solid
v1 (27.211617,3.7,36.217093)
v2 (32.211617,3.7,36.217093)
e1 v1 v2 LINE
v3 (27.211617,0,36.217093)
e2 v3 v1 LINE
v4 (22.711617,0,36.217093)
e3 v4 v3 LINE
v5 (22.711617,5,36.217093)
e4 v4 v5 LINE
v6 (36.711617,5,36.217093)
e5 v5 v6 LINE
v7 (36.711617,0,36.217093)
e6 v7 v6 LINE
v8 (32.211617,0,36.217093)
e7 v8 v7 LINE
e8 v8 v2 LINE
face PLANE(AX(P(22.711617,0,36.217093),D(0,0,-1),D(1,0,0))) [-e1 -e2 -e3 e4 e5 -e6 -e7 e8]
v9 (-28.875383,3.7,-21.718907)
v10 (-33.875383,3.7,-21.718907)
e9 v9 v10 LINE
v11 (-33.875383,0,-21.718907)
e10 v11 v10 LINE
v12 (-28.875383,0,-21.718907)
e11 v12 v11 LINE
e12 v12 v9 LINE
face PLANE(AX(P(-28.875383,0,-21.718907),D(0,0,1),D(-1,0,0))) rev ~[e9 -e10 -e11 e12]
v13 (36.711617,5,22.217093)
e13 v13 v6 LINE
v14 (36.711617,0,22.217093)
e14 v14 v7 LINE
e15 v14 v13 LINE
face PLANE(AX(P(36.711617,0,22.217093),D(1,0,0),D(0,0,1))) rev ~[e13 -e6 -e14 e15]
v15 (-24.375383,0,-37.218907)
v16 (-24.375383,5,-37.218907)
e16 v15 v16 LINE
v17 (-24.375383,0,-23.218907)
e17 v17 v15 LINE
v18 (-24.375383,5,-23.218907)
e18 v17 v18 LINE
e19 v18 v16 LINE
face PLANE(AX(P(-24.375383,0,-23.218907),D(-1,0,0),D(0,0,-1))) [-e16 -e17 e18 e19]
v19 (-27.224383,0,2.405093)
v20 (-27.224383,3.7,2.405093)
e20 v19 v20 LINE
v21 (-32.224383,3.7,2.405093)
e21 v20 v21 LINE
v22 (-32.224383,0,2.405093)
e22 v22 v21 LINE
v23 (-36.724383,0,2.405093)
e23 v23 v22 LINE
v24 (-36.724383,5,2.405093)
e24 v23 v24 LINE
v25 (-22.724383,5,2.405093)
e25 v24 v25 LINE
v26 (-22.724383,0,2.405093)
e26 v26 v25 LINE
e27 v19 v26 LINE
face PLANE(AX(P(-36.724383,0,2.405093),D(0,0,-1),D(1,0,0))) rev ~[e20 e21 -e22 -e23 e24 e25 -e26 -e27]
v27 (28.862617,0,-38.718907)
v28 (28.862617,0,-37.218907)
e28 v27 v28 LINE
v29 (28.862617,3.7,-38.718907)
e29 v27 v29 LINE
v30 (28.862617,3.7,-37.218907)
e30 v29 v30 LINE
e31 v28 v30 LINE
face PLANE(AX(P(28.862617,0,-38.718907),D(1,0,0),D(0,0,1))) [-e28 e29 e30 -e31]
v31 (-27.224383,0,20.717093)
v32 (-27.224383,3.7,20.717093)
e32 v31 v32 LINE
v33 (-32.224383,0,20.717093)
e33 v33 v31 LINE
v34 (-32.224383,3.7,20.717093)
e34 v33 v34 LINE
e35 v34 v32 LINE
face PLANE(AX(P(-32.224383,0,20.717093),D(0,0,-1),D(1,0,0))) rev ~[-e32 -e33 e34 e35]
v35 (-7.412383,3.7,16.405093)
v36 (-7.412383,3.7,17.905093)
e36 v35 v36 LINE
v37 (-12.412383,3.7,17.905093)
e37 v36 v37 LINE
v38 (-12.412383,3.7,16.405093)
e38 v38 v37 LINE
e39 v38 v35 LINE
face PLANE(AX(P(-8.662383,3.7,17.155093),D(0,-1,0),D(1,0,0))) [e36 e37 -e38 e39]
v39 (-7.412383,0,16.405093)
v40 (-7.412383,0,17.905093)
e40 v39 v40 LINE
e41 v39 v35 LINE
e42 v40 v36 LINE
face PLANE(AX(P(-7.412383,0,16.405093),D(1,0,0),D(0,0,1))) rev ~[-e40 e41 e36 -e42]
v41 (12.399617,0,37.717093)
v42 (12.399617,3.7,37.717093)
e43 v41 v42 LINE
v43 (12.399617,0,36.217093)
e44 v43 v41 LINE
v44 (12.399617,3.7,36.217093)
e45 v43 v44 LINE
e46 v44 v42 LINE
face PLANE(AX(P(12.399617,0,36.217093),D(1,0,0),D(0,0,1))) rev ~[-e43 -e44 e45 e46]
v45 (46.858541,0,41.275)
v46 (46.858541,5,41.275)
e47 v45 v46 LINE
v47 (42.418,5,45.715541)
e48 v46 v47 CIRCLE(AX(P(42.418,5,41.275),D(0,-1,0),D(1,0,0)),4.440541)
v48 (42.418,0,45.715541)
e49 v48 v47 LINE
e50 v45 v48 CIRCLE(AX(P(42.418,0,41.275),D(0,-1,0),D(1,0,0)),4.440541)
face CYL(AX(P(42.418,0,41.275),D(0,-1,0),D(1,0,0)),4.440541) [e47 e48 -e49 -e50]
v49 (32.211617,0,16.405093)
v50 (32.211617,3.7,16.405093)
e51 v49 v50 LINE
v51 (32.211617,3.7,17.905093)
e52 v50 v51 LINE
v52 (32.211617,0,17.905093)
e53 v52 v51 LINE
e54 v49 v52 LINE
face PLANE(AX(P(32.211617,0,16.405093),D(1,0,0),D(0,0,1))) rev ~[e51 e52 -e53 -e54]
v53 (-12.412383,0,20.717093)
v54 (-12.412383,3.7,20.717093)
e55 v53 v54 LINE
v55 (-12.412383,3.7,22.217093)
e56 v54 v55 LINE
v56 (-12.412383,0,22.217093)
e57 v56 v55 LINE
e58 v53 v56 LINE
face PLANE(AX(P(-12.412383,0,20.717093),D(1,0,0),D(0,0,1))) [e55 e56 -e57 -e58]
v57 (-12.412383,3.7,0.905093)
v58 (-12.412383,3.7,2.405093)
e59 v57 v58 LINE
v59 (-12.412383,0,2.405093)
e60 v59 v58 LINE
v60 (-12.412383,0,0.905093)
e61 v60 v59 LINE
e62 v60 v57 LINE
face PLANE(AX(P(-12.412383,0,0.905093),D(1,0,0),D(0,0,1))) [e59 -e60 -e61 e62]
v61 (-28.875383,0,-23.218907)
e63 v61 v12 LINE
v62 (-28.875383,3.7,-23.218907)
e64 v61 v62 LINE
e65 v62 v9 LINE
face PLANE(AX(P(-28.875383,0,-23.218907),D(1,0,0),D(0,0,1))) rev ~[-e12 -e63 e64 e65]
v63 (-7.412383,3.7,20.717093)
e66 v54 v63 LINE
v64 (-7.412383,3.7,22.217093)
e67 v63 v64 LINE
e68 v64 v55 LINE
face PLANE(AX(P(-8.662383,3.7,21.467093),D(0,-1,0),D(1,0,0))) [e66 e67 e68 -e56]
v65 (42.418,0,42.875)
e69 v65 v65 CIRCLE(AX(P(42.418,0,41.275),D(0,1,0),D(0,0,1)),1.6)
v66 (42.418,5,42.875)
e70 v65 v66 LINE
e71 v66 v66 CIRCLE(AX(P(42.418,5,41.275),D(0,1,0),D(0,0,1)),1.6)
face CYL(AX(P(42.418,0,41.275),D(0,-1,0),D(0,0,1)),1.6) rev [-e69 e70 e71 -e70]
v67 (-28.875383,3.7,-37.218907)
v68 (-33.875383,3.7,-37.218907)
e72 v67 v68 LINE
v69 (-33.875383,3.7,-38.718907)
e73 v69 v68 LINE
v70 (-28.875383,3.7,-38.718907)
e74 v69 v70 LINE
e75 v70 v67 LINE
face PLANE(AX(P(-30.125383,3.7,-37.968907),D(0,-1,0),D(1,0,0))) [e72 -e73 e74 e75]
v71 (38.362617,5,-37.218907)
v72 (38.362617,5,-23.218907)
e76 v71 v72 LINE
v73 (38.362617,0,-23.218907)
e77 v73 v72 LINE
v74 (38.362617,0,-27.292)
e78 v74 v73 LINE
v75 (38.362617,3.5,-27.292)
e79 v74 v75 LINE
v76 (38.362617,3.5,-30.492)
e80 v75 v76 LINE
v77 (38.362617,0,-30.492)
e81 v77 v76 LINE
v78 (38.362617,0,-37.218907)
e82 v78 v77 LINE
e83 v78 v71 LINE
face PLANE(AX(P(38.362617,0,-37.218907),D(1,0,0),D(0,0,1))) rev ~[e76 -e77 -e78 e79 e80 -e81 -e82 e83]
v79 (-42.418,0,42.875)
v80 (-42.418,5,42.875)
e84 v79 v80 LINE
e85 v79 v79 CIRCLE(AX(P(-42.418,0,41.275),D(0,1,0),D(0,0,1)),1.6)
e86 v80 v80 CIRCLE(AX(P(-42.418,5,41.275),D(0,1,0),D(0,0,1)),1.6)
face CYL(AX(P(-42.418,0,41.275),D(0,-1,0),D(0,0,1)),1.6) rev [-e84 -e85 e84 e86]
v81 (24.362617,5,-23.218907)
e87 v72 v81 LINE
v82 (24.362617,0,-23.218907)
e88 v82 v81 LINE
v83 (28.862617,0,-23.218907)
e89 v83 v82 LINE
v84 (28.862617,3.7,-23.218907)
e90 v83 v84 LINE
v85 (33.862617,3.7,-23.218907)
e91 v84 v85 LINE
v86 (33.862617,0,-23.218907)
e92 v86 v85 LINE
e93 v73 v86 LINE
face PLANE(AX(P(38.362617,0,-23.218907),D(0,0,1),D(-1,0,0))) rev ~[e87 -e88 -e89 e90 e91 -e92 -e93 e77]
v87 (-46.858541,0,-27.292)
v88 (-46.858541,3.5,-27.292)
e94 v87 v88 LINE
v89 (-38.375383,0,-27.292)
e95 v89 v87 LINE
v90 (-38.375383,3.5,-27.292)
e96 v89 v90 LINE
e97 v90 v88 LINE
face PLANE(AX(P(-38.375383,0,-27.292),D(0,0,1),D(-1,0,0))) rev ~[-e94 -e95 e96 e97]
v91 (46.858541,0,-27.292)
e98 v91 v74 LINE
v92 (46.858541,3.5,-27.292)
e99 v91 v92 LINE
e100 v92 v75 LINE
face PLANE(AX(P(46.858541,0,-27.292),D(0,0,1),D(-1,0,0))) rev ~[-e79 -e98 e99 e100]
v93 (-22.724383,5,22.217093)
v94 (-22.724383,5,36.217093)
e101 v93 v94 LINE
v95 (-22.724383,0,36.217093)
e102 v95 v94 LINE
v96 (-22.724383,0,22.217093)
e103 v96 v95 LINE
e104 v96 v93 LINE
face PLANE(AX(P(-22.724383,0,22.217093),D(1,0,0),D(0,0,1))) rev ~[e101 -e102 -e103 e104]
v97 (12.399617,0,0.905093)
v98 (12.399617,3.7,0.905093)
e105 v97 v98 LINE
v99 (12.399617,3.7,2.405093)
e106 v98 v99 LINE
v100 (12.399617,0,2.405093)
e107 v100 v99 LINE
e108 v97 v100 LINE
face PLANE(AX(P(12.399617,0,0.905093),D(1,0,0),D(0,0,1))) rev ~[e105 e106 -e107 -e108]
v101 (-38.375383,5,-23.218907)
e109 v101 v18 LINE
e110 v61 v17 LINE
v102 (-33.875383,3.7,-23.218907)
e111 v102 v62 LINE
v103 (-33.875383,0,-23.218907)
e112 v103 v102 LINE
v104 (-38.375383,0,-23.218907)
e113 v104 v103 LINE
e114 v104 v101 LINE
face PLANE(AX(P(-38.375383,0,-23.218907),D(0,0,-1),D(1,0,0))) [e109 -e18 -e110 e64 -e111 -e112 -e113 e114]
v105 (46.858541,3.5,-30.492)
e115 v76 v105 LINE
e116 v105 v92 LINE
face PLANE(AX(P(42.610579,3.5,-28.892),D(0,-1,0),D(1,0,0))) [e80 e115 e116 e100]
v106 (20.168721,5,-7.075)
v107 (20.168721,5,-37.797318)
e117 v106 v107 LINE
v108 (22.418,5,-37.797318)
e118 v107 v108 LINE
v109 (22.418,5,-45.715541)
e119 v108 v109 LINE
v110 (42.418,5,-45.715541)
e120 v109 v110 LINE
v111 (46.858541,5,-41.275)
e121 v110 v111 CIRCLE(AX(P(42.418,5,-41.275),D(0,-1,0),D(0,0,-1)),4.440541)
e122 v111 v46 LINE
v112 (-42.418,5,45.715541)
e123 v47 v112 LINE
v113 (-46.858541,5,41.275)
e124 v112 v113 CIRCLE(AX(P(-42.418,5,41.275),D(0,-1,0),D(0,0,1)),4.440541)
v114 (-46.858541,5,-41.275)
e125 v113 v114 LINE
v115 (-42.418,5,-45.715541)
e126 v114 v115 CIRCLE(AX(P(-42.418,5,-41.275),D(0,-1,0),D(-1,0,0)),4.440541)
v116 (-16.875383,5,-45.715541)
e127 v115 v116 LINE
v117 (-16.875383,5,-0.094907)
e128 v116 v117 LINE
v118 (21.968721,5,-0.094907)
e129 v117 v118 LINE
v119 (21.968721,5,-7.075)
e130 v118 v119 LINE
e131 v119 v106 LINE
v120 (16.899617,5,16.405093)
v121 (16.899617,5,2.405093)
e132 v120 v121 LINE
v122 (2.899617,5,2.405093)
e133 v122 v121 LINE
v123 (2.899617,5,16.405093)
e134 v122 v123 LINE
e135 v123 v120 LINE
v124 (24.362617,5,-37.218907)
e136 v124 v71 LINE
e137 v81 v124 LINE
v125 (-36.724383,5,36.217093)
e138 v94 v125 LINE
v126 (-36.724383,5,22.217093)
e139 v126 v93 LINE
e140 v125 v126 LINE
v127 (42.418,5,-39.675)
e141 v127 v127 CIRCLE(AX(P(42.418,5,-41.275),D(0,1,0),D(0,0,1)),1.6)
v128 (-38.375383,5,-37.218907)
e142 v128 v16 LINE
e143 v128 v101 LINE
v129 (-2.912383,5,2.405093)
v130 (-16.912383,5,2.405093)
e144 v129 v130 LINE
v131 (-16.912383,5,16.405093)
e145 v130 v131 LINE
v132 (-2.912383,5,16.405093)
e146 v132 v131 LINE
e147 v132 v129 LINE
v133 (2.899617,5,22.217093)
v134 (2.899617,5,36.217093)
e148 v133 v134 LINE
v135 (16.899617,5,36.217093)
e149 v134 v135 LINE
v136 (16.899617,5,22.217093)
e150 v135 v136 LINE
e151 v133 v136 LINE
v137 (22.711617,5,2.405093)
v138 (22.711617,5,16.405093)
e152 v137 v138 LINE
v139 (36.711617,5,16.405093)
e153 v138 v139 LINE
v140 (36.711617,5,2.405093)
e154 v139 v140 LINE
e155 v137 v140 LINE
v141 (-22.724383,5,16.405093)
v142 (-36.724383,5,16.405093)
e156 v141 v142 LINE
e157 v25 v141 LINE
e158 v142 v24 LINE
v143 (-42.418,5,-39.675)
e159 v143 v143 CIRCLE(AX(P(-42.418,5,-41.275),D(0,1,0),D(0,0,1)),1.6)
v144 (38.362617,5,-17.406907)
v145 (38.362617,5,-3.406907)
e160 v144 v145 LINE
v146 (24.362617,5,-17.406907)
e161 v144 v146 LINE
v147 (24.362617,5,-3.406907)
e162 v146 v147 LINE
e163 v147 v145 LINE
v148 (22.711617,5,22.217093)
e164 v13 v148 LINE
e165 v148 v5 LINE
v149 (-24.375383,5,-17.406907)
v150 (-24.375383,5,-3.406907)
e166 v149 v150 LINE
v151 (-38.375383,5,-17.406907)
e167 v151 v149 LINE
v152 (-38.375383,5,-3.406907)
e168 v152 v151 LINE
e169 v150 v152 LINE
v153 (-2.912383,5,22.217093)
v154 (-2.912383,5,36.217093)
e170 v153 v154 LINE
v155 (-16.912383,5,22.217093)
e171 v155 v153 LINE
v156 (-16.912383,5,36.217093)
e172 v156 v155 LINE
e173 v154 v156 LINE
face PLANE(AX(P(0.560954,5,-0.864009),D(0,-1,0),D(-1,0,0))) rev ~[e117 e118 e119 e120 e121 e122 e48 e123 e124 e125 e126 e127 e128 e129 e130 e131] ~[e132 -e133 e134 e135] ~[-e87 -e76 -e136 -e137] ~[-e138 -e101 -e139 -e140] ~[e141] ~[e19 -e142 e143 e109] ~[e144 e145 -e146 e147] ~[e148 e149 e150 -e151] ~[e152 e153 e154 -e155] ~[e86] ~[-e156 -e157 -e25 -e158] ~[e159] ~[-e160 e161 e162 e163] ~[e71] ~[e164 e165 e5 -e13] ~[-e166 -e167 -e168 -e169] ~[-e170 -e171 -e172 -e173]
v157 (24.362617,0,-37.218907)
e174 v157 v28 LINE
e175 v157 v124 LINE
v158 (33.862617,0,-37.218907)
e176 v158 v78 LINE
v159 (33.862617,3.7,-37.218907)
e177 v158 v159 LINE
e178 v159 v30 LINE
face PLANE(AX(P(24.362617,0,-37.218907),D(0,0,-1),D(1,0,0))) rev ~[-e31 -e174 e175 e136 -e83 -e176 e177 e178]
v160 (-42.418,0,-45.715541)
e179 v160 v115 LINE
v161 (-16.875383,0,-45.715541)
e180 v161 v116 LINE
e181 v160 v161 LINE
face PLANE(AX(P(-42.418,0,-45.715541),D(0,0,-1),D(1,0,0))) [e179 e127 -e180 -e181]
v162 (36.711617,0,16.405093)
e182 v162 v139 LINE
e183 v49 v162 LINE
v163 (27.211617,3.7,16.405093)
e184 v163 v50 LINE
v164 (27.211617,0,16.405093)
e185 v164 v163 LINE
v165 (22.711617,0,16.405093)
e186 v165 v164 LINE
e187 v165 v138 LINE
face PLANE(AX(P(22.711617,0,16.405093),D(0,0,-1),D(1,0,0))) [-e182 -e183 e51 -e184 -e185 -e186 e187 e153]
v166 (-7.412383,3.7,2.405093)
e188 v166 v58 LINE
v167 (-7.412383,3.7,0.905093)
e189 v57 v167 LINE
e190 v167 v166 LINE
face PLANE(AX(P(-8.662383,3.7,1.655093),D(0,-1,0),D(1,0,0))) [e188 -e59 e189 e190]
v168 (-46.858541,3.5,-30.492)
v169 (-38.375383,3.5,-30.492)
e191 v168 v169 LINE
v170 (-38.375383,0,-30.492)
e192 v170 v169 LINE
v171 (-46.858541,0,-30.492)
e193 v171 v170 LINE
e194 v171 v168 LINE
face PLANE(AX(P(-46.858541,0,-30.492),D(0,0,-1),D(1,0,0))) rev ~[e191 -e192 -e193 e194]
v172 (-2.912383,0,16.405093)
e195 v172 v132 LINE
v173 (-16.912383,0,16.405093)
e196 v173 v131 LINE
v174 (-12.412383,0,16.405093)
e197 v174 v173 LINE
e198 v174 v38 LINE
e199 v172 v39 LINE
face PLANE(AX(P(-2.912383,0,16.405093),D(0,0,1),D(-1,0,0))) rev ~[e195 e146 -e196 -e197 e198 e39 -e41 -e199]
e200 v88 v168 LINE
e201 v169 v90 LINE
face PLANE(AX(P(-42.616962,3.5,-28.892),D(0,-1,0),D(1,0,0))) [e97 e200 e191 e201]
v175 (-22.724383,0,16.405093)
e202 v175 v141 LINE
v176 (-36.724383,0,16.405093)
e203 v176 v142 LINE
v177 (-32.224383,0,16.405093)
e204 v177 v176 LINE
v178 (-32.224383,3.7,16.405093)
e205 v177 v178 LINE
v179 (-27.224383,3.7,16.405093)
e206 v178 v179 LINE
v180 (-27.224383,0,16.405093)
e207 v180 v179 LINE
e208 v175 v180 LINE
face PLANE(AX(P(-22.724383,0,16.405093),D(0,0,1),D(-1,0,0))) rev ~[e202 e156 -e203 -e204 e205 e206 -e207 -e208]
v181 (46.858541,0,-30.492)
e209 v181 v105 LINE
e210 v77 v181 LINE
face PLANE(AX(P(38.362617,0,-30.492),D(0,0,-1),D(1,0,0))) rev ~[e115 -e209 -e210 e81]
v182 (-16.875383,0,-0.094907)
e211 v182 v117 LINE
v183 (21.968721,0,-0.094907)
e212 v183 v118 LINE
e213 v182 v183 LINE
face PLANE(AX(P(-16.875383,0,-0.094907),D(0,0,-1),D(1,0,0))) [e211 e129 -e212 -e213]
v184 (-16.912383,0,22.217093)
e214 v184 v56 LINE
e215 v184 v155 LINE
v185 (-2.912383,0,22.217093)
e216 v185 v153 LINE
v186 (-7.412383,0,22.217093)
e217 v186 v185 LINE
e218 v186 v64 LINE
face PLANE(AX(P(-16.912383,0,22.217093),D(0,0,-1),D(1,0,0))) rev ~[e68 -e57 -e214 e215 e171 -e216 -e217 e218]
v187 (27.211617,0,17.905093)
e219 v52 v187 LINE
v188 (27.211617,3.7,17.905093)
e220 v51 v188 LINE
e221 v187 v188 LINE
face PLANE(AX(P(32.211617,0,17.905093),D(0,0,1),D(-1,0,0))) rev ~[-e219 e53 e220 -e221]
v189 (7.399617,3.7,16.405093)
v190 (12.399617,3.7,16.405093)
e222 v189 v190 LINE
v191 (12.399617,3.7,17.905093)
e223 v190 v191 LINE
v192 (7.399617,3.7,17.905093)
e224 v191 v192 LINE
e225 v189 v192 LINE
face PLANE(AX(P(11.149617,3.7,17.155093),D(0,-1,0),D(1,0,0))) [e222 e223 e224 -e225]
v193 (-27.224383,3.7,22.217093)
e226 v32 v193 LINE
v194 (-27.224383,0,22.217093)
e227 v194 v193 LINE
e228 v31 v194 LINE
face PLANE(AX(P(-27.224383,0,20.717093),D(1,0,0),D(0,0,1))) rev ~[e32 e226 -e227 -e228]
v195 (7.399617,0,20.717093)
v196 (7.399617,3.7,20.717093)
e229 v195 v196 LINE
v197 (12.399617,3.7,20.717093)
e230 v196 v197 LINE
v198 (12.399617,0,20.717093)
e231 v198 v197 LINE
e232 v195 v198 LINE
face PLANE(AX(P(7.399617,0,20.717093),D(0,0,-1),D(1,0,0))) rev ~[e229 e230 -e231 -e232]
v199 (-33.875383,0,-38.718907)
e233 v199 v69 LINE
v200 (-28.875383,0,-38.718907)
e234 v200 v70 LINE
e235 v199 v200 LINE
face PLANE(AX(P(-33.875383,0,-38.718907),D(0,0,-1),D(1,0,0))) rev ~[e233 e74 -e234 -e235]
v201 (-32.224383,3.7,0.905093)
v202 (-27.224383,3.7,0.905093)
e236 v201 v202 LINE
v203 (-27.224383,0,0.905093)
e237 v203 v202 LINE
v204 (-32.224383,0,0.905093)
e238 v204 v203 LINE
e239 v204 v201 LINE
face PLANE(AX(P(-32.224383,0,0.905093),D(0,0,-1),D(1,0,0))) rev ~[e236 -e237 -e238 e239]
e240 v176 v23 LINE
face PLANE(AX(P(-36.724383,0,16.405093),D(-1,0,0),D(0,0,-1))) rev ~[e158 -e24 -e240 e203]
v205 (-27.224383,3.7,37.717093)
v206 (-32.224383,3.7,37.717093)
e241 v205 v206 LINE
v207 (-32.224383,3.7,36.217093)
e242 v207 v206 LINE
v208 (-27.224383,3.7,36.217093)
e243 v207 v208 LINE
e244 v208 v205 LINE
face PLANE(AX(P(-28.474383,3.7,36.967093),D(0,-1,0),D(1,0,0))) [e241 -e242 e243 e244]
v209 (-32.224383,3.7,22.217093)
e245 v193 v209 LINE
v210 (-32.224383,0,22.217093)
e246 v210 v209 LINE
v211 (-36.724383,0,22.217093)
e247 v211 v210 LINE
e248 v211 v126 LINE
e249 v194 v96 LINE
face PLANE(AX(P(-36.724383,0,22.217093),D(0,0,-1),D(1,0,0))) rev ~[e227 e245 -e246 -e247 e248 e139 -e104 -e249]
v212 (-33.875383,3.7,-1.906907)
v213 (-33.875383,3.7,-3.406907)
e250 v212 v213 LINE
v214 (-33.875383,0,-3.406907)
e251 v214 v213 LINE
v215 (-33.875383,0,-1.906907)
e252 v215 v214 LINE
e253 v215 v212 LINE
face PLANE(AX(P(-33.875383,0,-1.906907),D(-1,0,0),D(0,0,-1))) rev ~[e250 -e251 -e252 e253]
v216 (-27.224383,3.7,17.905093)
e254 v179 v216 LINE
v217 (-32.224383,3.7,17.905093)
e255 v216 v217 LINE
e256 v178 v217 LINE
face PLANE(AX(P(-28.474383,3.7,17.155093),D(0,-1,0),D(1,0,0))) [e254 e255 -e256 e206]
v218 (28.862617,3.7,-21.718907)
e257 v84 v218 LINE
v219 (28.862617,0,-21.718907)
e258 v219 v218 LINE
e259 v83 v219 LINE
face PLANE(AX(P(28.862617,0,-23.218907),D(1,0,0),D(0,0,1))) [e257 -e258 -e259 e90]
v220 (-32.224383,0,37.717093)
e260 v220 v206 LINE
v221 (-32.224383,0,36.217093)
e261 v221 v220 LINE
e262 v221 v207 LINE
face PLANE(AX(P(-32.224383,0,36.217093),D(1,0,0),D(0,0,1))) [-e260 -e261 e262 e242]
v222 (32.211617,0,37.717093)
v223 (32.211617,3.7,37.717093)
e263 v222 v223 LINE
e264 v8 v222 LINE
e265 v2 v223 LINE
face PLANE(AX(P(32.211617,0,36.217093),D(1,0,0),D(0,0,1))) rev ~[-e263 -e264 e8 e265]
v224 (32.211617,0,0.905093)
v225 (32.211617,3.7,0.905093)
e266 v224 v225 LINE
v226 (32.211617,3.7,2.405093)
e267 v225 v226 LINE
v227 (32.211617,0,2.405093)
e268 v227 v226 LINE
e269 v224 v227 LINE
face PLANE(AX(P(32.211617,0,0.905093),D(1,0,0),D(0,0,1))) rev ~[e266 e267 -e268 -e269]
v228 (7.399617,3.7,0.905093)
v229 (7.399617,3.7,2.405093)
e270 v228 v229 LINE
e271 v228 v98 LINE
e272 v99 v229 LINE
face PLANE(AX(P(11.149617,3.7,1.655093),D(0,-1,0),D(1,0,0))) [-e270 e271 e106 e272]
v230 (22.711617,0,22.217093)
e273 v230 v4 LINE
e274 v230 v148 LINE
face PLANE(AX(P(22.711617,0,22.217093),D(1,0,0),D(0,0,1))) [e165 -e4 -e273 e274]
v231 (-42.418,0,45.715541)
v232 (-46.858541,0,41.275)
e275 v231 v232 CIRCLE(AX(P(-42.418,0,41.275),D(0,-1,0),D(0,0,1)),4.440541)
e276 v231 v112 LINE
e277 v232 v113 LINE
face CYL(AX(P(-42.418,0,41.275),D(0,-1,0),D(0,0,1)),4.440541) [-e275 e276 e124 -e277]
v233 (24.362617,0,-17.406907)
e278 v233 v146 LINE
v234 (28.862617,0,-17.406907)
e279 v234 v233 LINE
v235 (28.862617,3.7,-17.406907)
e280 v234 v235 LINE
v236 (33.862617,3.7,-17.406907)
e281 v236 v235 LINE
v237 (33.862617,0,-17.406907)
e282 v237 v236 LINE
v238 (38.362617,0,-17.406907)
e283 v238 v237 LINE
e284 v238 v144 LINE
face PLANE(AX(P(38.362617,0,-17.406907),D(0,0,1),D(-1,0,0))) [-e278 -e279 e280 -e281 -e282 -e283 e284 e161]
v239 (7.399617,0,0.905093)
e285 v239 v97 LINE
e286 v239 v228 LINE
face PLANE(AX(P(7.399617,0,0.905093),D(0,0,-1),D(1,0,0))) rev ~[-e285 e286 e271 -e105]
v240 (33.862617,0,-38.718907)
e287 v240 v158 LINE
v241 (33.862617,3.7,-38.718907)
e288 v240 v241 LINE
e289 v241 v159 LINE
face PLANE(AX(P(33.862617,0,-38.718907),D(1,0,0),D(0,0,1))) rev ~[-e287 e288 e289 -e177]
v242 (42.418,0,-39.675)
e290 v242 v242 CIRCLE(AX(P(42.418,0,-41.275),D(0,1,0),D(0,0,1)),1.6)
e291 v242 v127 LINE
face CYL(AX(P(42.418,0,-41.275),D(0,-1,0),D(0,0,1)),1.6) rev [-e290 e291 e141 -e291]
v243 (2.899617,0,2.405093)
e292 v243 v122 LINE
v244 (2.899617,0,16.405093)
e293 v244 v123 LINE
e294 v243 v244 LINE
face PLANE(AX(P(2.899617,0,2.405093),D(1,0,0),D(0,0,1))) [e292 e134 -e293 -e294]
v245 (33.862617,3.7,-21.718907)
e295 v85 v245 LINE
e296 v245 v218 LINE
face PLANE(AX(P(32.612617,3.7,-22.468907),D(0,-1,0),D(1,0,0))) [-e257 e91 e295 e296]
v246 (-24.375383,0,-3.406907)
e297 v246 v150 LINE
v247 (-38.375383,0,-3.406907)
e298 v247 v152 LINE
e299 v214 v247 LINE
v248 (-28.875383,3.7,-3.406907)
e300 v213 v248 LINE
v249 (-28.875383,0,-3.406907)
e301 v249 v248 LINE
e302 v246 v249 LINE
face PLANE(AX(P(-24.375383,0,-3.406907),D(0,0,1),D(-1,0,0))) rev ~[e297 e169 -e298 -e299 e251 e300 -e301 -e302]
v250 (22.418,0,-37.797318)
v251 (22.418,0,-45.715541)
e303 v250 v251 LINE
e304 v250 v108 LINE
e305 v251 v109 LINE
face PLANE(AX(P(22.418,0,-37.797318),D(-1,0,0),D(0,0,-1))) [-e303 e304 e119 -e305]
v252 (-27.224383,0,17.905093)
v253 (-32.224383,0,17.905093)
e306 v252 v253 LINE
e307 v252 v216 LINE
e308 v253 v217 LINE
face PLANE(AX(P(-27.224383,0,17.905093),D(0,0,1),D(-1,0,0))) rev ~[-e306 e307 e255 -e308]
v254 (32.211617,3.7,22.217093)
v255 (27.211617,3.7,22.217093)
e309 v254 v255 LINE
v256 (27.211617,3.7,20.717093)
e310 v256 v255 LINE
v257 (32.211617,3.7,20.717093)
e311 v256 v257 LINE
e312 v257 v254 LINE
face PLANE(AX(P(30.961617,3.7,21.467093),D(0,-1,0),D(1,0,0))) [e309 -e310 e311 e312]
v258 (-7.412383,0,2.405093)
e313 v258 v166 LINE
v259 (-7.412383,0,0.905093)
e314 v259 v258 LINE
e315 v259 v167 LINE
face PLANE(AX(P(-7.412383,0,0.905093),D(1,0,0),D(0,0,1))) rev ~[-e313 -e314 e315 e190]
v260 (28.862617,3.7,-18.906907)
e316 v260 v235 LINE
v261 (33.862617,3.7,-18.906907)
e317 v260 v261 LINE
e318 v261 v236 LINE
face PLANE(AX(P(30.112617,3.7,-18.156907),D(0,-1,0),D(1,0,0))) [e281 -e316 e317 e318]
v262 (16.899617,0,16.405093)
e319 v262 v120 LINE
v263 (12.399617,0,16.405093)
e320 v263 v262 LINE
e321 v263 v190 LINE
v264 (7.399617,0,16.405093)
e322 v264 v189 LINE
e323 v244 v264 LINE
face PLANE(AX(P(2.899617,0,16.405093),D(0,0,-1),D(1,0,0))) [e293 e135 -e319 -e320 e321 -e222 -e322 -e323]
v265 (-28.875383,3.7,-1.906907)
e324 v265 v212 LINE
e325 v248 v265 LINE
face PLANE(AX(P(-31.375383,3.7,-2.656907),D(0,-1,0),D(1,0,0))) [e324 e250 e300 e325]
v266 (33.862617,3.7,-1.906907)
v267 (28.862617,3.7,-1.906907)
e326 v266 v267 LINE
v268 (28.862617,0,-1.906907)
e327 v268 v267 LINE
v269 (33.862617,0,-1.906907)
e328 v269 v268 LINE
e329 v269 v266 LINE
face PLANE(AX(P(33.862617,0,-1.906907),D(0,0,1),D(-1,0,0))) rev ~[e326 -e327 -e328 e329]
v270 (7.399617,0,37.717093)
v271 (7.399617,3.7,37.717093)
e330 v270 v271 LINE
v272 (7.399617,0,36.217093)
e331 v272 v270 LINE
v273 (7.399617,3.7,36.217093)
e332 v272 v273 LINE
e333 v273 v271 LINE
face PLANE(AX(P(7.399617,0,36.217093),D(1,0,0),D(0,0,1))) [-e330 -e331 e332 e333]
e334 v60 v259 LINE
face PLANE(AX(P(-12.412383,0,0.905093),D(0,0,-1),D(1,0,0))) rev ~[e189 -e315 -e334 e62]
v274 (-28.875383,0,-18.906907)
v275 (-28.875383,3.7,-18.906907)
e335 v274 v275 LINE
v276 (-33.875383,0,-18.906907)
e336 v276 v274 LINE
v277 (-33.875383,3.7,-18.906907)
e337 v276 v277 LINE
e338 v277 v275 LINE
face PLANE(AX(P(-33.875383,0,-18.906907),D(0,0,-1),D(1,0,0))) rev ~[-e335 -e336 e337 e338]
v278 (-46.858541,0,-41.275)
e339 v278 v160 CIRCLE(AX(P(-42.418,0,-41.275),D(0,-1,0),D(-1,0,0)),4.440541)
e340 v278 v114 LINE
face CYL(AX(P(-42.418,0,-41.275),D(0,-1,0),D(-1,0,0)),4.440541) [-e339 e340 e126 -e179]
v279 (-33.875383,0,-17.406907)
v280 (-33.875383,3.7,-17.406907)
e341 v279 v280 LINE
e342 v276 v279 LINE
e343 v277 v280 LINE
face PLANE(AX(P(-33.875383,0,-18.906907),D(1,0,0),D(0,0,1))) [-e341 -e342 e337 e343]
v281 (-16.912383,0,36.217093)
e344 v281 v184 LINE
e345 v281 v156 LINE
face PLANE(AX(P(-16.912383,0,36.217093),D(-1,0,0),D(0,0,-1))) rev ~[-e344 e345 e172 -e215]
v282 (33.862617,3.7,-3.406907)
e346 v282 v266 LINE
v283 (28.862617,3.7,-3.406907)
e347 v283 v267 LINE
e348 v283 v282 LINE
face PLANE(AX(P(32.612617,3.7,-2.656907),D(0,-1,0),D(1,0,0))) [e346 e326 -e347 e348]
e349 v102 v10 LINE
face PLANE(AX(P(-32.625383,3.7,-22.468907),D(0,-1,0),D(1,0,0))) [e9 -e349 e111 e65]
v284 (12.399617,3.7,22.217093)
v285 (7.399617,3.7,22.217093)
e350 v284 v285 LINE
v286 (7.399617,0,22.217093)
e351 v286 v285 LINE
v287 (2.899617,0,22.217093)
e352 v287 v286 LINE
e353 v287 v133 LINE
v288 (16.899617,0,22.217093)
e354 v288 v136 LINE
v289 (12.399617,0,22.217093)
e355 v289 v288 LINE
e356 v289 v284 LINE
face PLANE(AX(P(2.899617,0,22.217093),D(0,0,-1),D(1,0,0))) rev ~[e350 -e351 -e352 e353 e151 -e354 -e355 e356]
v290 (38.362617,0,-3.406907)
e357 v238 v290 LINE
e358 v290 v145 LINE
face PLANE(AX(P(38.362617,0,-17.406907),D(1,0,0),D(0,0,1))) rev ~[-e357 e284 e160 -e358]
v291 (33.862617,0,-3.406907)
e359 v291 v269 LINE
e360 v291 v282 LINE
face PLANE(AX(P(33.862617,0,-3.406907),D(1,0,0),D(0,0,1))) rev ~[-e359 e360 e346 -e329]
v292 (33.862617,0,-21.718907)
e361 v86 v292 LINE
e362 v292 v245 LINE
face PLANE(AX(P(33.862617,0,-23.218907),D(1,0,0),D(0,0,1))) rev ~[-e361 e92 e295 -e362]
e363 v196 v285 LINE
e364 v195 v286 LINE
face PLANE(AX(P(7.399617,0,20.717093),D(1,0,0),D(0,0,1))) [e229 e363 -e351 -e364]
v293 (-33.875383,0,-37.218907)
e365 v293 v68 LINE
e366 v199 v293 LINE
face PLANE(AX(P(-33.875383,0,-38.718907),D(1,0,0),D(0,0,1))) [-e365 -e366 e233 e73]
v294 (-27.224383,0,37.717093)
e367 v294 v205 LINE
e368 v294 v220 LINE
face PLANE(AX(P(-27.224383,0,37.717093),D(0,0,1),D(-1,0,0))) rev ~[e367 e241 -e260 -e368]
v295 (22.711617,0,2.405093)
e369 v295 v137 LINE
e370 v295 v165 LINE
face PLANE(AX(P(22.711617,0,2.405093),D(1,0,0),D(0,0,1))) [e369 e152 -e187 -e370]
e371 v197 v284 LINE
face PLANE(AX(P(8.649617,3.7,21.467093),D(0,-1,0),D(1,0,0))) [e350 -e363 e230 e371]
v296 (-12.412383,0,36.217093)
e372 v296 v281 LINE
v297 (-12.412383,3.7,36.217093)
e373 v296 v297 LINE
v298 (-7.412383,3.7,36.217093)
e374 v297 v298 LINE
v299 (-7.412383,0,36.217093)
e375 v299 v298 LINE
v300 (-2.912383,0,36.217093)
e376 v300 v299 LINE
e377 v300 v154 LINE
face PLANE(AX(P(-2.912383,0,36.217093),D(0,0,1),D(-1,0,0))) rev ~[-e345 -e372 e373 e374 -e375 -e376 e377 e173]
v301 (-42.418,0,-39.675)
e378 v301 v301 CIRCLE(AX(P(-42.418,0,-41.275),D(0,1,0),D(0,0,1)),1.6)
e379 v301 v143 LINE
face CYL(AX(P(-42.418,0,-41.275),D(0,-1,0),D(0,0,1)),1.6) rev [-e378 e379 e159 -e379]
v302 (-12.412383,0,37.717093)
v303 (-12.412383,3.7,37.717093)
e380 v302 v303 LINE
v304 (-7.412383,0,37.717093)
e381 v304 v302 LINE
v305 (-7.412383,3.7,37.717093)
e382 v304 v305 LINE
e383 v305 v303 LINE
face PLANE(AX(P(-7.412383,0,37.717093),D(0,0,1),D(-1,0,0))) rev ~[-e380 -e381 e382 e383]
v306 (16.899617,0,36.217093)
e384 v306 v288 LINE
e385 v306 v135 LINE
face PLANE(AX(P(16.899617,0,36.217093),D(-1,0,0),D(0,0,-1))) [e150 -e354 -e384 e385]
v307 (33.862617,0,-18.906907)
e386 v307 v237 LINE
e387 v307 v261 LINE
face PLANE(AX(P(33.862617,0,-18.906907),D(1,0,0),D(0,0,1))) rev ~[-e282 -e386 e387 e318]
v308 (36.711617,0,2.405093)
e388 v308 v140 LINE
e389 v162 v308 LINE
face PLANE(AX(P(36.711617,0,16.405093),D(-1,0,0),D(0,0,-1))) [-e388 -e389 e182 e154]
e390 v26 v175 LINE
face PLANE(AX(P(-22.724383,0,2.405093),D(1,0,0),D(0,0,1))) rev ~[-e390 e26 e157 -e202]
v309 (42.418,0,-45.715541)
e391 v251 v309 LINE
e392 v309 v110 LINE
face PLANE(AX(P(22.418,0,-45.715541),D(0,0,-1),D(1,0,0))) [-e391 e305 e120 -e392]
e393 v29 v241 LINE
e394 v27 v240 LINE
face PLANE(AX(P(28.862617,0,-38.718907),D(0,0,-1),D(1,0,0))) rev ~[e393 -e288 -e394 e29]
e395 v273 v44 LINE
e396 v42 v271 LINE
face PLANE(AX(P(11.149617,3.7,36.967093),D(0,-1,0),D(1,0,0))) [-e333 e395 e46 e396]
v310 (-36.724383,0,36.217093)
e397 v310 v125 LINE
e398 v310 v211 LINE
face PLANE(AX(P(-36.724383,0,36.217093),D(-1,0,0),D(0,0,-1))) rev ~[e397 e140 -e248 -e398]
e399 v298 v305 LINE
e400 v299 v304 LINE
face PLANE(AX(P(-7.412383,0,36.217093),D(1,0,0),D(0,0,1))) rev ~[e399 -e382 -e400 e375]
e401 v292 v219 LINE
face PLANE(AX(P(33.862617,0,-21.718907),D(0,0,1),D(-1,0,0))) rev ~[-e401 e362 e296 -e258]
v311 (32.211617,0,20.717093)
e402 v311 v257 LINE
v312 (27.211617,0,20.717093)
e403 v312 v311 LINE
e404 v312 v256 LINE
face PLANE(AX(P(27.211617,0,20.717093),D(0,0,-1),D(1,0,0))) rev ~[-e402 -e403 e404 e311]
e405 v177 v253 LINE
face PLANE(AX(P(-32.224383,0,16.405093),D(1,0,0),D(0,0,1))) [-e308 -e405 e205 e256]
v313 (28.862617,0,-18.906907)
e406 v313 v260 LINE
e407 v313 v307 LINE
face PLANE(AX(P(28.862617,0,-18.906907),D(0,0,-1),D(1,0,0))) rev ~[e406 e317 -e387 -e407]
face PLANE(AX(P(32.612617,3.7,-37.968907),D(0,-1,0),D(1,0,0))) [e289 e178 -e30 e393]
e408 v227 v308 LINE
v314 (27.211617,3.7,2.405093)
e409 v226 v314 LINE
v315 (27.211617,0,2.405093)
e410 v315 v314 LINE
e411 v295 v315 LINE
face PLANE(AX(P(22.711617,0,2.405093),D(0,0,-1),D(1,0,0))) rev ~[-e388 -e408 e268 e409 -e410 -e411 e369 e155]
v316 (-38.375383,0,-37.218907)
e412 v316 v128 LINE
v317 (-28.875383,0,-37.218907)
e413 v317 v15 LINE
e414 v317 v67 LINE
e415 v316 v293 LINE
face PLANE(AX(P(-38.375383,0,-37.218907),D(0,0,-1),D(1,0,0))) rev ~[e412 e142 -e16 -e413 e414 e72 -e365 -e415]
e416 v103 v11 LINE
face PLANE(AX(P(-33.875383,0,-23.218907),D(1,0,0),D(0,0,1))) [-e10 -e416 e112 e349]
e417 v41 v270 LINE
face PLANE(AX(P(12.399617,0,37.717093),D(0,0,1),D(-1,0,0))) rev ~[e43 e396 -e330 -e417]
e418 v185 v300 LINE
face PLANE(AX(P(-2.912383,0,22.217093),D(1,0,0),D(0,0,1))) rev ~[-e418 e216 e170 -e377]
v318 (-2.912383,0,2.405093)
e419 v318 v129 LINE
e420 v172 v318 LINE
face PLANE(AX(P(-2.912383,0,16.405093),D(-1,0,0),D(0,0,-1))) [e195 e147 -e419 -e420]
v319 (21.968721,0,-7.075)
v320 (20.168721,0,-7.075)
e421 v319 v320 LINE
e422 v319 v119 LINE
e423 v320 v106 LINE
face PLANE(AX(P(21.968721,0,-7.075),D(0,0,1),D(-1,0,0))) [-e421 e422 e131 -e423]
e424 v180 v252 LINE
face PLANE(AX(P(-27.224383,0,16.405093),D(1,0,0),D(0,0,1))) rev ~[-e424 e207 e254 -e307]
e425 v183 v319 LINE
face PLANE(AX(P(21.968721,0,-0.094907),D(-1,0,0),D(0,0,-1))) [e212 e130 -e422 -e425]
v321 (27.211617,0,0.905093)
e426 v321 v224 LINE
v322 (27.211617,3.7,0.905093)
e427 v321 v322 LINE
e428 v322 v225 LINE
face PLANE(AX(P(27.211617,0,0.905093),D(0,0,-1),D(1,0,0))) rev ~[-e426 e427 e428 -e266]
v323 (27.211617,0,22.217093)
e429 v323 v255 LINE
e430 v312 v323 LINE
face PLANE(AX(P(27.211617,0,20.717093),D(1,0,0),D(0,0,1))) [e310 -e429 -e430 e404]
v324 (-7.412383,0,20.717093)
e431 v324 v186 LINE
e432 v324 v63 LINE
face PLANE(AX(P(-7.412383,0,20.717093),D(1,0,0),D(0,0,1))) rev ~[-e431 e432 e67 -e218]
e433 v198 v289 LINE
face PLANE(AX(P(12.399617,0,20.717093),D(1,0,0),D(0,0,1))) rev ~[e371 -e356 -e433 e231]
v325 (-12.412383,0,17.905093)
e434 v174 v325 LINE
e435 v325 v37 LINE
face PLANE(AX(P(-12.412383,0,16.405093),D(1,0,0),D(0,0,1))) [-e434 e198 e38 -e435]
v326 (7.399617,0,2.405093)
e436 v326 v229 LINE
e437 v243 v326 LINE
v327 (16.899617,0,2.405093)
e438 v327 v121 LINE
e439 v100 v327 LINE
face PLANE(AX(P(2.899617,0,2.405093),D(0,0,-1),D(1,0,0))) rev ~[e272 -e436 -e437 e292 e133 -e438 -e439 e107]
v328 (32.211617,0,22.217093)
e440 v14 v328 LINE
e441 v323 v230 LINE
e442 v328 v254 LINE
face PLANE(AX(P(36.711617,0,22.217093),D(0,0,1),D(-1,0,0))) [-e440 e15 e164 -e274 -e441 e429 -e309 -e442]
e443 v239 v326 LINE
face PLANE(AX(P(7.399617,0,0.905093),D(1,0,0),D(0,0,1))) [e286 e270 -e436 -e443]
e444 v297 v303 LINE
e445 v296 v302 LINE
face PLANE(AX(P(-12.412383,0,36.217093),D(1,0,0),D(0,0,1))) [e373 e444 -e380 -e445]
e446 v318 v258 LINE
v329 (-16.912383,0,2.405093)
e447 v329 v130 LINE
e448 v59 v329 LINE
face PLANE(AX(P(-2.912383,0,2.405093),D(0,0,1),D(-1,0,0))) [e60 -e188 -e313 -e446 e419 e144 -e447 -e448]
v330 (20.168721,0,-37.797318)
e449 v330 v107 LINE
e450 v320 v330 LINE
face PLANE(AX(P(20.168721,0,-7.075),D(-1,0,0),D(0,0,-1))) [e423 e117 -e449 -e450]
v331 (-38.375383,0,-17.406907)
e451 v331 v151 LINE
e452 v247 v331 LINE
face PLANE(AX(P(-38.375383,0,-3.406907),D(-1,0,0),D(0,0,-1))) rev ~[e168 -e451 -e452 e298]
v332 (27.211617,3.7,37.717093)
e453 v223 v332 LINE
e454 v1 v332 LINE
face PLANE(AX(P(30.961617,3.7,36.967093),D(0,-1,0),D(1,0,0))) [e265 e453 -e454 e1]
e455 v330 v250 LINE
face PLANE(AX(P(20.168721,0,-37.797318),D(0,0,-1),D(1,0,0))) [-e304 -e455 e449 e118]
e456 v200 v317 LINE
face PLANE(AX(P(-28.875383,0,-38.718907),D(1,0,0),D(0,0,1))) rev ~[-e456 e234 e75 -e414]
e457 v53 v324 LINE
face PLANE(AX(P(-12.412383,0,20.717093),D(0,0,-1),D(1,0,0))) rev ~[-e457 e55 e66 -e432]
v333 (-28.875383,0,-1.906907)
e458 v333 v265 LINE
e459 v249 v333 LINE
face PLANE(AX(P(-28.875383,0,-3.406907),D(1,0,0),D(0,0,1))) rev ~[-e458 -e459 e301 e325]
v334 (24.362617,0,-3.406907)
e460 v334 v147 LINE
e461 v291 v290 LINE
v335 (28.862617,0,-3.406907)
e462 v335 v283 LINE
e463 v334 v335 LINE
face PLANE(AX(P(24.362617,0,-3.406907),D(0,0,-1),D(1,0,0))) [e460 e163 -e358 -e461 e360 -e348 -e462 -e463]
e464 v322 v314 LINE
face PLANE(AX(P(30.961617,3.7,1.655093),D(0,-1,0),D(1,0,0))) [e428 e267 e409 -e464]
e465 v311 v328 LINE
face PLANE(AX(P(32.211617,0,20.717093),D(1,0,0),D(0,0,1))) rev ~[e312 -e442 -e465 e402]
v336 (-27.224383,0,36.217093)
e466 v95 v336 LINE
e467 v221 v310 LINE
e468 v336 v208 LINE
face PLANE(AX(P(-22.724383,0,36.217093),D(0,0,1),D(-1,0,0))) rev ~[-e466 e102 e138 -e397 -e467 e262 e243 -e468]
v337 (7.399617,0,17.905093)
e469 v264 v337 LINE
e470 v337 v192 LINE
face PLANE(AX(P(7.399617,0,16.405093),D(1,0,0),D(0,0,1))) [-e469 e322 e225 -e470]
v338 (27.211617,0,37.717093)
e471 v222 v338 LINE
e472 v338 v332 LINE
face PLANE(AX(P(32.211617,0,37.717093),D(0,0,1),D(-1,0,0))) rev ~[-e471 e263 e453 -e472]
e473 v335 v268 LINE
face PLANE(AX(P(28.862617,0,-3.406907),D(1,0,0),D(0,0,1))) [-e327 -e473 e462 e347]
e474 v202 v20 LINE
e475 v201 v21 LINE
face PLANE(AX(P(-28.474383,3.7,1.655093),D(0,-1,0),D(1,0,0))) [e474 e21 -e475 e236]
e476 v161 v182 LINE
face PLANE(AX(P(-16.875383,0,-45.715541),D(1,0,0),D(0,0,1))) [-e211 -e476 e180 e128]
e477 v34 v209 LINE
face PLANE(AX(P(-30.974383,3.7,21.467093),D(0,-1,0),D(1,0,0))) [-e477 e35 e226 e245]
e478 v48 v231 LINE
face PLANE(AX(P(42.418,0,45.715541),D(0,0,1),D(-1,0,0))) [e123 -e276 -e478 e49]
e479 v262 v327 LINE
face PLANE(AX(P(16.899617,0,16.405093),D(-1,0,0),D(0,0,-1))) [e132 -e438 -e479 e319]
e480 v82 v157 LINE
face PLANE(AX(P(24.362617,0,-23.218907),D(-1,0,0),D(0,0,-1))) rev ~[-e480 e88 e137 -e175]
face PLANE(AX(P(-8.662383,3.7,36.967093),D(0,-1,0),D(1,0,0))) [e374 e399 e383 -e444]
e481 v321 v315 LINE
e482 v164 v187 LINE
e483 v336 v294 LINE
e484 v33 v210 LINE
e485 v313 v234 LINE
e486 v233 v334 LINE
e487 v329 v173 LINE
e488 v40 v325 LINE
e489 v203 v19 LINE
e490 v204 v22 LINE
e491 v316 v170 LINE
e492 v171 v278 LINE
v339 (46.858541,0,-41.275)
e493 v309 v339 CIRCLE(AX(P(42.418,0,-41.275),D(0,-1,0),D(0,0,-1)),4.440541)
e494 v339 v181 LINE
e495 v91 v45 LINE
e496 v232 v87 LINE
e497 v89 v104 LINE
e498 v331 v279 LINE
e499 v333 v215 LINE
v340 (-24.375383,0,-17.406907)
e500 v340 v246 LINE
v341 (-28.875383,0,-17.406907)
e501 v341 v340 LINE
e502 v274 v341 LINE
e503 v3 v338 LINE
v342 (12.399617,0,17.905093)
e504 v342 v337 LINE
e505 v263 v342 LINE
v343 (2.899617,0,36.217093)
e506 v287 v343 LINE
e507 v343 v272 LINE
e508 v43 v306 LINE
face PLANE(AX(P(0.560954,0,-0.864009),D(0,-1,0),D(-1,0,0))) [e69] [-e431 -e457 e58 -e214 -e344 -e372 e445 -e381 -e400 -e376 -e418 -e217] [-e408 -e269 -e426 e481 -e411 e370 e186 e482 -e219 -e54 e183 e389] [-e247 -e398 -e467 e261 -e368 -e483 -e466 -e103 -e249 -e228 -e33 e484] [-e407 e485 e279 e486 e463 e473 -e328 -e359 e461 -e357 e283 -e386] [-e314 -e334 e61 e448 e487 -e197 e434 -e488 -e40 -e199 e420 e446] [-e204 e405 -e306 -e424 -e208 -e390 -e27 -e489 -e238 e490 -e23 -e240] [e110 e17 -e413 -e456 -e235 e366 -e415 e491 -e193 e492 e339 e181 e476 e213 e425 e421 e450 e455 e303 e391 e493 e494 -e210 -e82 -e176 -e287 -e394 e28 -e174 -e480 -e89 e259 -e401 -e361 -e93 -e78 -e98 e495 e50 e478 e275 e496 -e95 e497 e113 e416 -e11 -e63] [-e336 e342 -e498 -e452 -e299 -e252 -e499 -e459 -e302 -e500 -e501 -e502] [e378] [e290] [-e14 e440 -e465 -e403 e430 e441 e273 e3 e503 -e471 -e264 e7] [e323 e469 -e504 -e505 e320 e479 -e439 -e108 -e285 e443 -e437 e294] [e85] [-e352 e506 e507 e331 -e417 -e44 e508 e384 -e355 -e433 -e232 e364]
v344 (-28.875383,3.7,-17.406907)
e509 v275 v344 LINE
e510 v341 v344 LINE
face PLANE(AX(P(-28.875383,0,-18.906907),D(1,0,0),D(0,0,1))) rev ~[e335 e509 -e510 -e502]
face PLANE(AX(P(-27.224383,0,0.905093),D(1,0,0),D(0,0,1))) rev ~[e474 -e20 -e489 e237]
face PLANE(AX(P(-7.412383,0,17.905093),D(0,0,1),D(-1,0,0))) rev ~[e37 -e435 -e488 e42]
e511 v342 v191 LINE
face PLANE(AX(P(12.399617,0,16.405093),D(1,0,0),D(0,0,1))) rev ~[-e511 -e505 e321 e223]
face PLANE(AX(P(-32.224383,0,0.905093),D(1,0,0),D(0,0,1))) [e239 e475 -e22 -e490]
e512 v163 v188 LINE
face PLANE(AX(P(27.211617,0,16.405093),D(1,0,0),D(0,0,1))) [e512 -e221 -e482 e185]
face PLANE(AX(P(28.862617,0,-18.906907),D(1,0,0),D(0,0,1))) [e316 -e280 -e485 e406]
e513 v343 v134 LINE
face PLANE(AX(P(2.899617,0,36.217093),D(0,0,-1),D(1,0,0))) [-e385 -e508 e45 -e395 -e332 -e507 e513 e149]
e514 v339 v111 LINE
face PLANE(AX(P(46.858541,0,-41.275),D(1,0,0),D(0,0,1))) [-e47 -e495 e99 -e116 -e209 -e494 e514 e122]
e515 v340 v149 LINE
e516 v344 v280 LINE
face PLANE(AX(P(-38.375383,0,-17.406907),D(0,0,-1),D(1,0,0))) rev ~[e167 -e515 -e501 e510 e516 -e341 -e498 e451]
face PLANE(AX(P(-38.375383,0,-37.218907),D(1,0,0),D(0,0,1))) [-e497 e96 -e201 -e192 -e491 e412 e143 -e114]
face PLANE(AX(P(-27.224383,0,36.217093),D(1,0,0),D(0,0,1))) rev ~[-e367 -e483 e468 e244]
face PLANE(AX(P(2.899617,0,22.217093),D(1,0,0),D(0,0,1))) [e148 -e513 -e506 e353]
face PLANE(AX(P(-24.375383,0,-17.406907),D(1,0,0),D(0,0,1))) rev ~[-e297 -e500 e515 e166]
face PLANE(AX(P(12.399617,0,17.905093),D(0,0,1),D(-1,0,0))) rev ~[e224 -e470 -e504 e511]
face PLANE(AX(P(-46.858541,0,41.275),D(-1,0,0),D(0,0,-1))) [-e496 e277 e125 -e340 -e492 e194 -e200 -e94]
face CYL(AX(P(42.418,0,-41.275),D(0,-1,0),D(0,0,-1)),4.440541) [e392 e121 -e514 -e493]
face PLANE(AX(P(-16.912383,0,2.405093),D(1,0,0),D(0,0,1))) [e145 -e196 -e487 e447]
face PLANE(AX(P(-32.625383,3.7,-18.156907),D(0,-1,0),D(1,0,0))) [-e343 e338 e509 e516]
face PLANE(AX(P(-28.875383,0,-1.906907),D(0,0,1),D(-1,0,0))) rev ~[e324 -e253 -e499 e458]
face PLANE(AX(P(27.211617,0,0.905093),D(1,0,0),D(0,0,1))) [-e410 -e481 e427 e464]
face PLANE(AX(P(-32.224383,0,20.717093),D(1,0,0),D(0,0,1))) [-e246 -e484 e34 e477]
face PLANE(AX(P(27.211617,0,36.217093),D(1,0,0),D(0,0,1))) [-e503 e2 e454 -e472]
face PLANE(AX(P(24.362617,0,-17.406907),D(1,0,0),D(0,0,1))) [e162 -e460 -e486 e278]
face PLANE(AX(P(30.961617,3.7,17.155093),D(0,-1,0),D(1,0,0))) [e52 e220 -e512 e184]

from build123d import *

# Parameters (mm, degrees)
SKETCH2_R           = 1.6
BOSS_EXTRUDE1_DEPTH = 5
CUT_EXTRUDE1_DEPTH  = 3.5
SKETCH4_W           = 2.5
SKETCH4_H           = 1.5
CUT_EXTRUDE2_DEPTH  = 3.7


with BuildPart() as part:
    # Sketch2 → Boss-Extrude1 (new body)
    with BuildSketch(Plane(origin=(0, 0, 0), x_dir=(1, 0, 0), z_dir=(0, 1, 0))):
        with BuildLine():
            Line((-46.858540632, -41.275), (-46.858540632, 41.275))
            ThreePointArc((-46.858540632, 41.275), (-45.557936393, 44.414936393), (-42.418, 45.715540632))
            Line((-42.418, 45.715540632), (-16.875382857, 45.715540632))
            Line((-16.875382857, 45.715540632), (-16.875382857, 30.218907102))
            Line((-16.875382857, 30.218907102), (-16.875382857, 0.094907102))
            Line((-16.875382857, 0.094907102), (-9.912382857, 0.094907102))
            Line((-9.912382857, 0.094907102), (21.96872062, 0.094907102))
            Line((21.96872062, 0.094907102), (21.96872062, 7.075))
            Line((21.96872062, 7.075), (20.16872062, 7.075))
            Line((20.16872062, 7.075), (20.16872062, 9.575))
            Line((20.16872062, 9.575), (20.16872062, 37.797317828))
            Line((20.16872062, 37.797317828), (22.418, 37.797317828))
            Line((22.418, 37.797317828), (22.418, 39.575))
            Line((22.418, 39.575), (22.418, 41.275))
            Line((22.418, 41.275), (22.418, 45.715540632))
            Line((22.418, 45.715540632), (42.418, 45.715540632))
            ThreePointArc((42.418, 45.715540632), (45.557936393, 44.414936393), (46.858540632, 41.275))
            Line((46.858540632, 41.275), (46.858540632, -41.275))
            ThreePointArc((46.858540632, -41.275), (45.557936393, -44.414936393), (42.418, -45.715540632))
            Line((42.418, -45.715540632), (-42.418, -45.715540632))
            ThreePointArc((-42.418, -45.715540632), (-45.557936393, -44.414936393), (-46.858540632, -41.275))
        make_face()
        with Locations(Location((42.418, 41.275, 0), (0, 0, 270))):
            Circle(SKETCH2_R, mode=Mode.SUBTRACT)
        with Locations(Location((-42.418, 41.275, 0), (0, 0, 270))):
            Circle(SKETCH2_R, mode=Mode.SUBTRACT)
        with Locations(Location((-42.418, -41.275, 0), (0, 0, 270))):
            Circle(SKETCH2_R, mode=Mode.SUBTRACT)
        with Locations(Location((42.418, -41.275, 0), (0, 0, 270))):
            Circle(SKETCH2_R, mode=Mode.SUBTRACT)
        Polygon((-31.375382857, 37.218907102), (-38.375382857, 37.218907102), (-38.375382857, 23.218907102), (-24.375382857, 23.218907102), (-24.375382857, 37.218907102), align=None, mode=Mode.SUBTRACT)
        Polygon((-38.375382857, 10.406907102), (-38.375382857, 17.406907102), (-24.375382857, 17.406907102), (-24.375382857, 3.406907102), (-38.375382857, 3.406907102), align=None, mode=Mode.SUBTRACT)
        Polygon((-36.724382857, -9.405092898), (-36.724382857, -2.405092898), (-22.724382857, -2.405092898), (-22.724382857, -16.405092898), (-36.724382857, -16.405092898), align=None, mode=Mode.SUBTRACT)
        Polygon((-36.724382857, -29.217092898), (-36.724382857, -22.217092898), (-22.724382857, -22.217092898), (-22.724382857, -36.217092898), (-36.724382857, -36.217092898), align=None, mode=Mode.SUBTRACT)
        Polygon((-9.912382857, -22.217092898), (-2.912382857, -22.217092898), (-2.912382857, -36.217092898), (-16.912382857, -36.217092898), (-16.912382857, -22.217092898), align=None, mode=Mode.SUBTRACT)
        Polygon((-9.912382857, -16.405092898), (-2.912382857, -16.405092898), (-2.912382857, -2.405092898), (-16.912382857, -2.405092898), (-16.912382857, -16.405092898), align=None, mode=Mode.SUBTRACT)
        Polygon((9.899617143, -2.405092898), (2.899617143, -2.405092898), (2.899617143, -16.405092898), (16.899617143, -16.405092898), (16.899617143, -2.405092898), align=None, mode=Mode.SUBTRACT)
        Polygon((9.899617143, -22.217092898), (2.899617143, -22.217092898), (2.899617143, -36.217092898), (16.899617143, -36.217092898), (16.899617143, -22.217092898), align=None, mode=Mode.SUBTRACT)
        Polygon((36.711617143, -29.217092898), (36.711617143, -22.217092898), (22.711617143, -22.217092898), (22.711617143, -36.217092898), (36.711617143, -36.217092898), align=None, mode=Mode.SUBTRACT)
        Polygon((29.711617143, -2.405092898), (22.711617143, -2.405092898), (22.711617143, -16.405092898), (36.711617143, -16.405092898), (36.711617143, -2.405092898), align=None, mode=Mode.SUBTRACT)
        Polygon((38.362617143, 10.406907102), (38.362617143, 17.406907102), (24.362617143, 17.406907102), (24.362617143, 3.406907102), (38.362617143, 3.406907102), align=None, mode=Mode.SUBTRACT)
        Polygon((38.362617143, 30.218907102), (38.362617143, 23.218907102), (24.362617143, 23.218907102), (24.362617143, 37.218907102), (38.362617143, 37.218907102), align=None, mode=Mode.SUBTRACT)
    extrude(amount=BOSS_EXTRUDE1_DEPTH)

    # Sketch3 → Cut-Extrude1 (cut)
    with BuildSketch(Plane.XZ):
        Polygon((38.362617143, -30.492), (42.418, -30.492), (46.218, -30.492), (46.858540632, -30.492), (46.858540632, -27.292), (46.218, -27.292), (38.362617143, -27.292), align=None)
        Polygon((-46.218, -27.292), (-46.858540632, -27.292), (-46.858540632, -30.492), (-46.218, -30.492), (-42.418, -30.492), (-38.375382857, -30.492), (-38.375382857, -27.292), align=None)
    extrude(amount=-CUT_EXTRUDE1_DEPTH, mode=Mode.SUBTRACT)

    # Sketch4 → Cut-Extrude2 (cut)
    with BuildSketch(Plane.XZ):
        with Locations((32.612617143, -37.968907102)):
            Rectangle(SKETCH4_W, SKETCH4_H)
        with Locations((30.112617143, -37.968907102)):
            Rectangle(SKETCH4_W, SKETCH4_H)
        with Locations((32.612617143, -22.468907102)):
            Rectangle(SKETCH4_W, SKETCH4_H)
        with Locations((30.112617143, -22.468907102)):
            Rectangle(SKETCH4_W, SKETCH4_H)
        with Locations((32.612617143, -2.656907102)):
            Rectangle(SKETCH4_W, SKETCH4_H)
        with Locations((30.112617143, -18.156907102)):
            Rectangle(SKETCH4_W, SKETCH4_H)
        with Locations((32.612617143, -18.156907102)):
            Rectangle(SKETCH4_W, SKETCH4_H)
        with Locations((30.112617143, -2.656907102)):
            Rectangle(SKETCH4_W, SKETCH4_H)
        with Locations((30.961617143, 1.655092898)):
            Rectangle(SKETCH4_W, SKETCH4_H)
        with Locations((28.461617143, 1.655092898)):
            Rectangle(SKETCH4_W, SKETCH4_H)
        with Locations((30.961617143, 17.155092898)):
            Rectangle(SKETCH4_W, SKETCH4_H)
        with Locations((28.461617143, 17.155092898)):
            Rectangle(SKETCH4_W, SKETCH4_H)
        with Locations((30.961617143, 21.467092898)):
            Rectangle(SKETCH4_W, SKETCH4_H)
        with Locations((28.461617143, 21.467092898)):
            Rectangle(SKETCH4_W, SKETCH4_H)
        with Locations((30.961617143, 36.967092898)):
            Rectangle(SKETCH4_W, SKETCH4_H)
        with Locations((28.461617143, 36.967092898)):
            Rectangle(SKETCH4_W, SKETCH4_H)
        with Locations((11.149617143, 36.967092898)):
            Rectangle(SKETCH4_W, SKETCH4_H)
        with Locations((8.649617143, 36.967092898)):
            Rectangle(SKETCH4_W, SKETCH4_H)
        with Locations((8.649617143, 21.467092898)):
            Rectangle(SKETCH4_W, SKETCH4_H)
        with Locations((11.149617143, 21.467092898)):
            Rectangle(SKETCH4_W, SKETCH4_H)
        with Locations((11.149617143, 17.155092898)):
            Rectangle(SKETCH4_W, SKETCH4_H)
        with Locations((8.649617143, 17.155092898)):
            Rectangle(SKETCH4_W, SKETCH4_H)
        with Locations((11.149617143, 1.655092898)):
            Rectangle(SKETCH4_W, SKETCH4_H)
        with Locations((8.649617143, 1.655092898)):
            Rectangle(SKETCH4_W, SKETCH4_H)
        with Locations((-8.662382857, 1.655092898)):
            Rectangle(SKETCH4_W, SKETCH4_H)
        with Locations((-11.162382857, 1.655092898)):
            Rectangle(SKETCH4_W, SKETCH4_H)
        with Locations((-8.662382857, 17.155092898)):
            Rectangle(SKETCH4_W, SKETCH4_H)
        with Locations((-11.162382857, 17.155092898)):
            Rectangle(SKETCH4_W, SKETCH4_H)
        with Locations((-8.662382857, 21.467092898)):
            Rectangle(SKETCH4_W, SKETCH4_H)
        with Locations((-11.162382857, 21.467092898)):
            Rectangle(SKETCH4_W, SKETCH4_H)
        with Locations((-8.662382857, 36.967092898)):
            Rectangle(SKETCH4_W, SKETCH4_H)
        with Locations((-11.162382857, 36.967092898)):
            Rectangle(SKETCH4_W, SKETCH4_H)
        with Locations((-28.474382857, 17.155092898)):
            Rectangle(SKETCH4_W, SKETCH4_H)
        with Locations((-30.974382857, 17.155092898)):
            Rectangle(SKETCH4_W, SKETCH4_H)
        with Locations((-30.974382857, 21.467092898)):
            Rectangle(SKETCH4_W, SKETCH4_H)
        with Locations((-28.474382857, 21.467092898)):
            Rectangle(SKETCH4_W, SKETCH4_H)
        with Locations((-28.474382857, 36.967092898)):
            Rectangle(SKETCH4_W, SKETCH4_H)
        with Locations((-30.974382857, 36.967092898)):
            Rectangle(SKETCH4_W, SKETCH4_H)
        with Locations((-28.474382857, 1.655092898)):
            Rectangle(SKETCH4_W, SKETCH4_H)
        with Locations((-30.974382857, 1.655092898)):
            Rectangle(SKETCH4_W, SKETCH4_H)
        Polygon((-33.875382857, -1.906907102), (-33.875382857, -3.406907102), (-31.375382857, -3.406907102), (-28.875382857, -3.406907102), (-28.875382857, -1.906907102), align=None)
        with Locations((-32.625382857, -18.156907102)):
            Rectangle(SKETCH4_W, SKETCH4_H)
        with Locations((-30.125382857, -18.156907102)):
            Rectangle(SKETCH4_W, SKETCH4_H)
        with Locations((-32.625382857, -22.468907102)):
            Rectangle(SKETCH4_W, SKETCH4_H)
        with Locations((-30.125382857, -22.468907102)):
            Rectangle(SKETCH4_W, SKETCH4_H)
        with Locations((-30.125382857, -37.968907102)):
            Rectangle(SKETCH4_W, SKETCH4_H)
        with Locations((-32.625382857, -37.968907102)):
            Rectangle(SKETCH4_W, SKETCH4_H)
    extrude(amount=-CUT_EXTRUDE2_DEPTH, mode=Mode.SUBTRACT)


solid = part.part
